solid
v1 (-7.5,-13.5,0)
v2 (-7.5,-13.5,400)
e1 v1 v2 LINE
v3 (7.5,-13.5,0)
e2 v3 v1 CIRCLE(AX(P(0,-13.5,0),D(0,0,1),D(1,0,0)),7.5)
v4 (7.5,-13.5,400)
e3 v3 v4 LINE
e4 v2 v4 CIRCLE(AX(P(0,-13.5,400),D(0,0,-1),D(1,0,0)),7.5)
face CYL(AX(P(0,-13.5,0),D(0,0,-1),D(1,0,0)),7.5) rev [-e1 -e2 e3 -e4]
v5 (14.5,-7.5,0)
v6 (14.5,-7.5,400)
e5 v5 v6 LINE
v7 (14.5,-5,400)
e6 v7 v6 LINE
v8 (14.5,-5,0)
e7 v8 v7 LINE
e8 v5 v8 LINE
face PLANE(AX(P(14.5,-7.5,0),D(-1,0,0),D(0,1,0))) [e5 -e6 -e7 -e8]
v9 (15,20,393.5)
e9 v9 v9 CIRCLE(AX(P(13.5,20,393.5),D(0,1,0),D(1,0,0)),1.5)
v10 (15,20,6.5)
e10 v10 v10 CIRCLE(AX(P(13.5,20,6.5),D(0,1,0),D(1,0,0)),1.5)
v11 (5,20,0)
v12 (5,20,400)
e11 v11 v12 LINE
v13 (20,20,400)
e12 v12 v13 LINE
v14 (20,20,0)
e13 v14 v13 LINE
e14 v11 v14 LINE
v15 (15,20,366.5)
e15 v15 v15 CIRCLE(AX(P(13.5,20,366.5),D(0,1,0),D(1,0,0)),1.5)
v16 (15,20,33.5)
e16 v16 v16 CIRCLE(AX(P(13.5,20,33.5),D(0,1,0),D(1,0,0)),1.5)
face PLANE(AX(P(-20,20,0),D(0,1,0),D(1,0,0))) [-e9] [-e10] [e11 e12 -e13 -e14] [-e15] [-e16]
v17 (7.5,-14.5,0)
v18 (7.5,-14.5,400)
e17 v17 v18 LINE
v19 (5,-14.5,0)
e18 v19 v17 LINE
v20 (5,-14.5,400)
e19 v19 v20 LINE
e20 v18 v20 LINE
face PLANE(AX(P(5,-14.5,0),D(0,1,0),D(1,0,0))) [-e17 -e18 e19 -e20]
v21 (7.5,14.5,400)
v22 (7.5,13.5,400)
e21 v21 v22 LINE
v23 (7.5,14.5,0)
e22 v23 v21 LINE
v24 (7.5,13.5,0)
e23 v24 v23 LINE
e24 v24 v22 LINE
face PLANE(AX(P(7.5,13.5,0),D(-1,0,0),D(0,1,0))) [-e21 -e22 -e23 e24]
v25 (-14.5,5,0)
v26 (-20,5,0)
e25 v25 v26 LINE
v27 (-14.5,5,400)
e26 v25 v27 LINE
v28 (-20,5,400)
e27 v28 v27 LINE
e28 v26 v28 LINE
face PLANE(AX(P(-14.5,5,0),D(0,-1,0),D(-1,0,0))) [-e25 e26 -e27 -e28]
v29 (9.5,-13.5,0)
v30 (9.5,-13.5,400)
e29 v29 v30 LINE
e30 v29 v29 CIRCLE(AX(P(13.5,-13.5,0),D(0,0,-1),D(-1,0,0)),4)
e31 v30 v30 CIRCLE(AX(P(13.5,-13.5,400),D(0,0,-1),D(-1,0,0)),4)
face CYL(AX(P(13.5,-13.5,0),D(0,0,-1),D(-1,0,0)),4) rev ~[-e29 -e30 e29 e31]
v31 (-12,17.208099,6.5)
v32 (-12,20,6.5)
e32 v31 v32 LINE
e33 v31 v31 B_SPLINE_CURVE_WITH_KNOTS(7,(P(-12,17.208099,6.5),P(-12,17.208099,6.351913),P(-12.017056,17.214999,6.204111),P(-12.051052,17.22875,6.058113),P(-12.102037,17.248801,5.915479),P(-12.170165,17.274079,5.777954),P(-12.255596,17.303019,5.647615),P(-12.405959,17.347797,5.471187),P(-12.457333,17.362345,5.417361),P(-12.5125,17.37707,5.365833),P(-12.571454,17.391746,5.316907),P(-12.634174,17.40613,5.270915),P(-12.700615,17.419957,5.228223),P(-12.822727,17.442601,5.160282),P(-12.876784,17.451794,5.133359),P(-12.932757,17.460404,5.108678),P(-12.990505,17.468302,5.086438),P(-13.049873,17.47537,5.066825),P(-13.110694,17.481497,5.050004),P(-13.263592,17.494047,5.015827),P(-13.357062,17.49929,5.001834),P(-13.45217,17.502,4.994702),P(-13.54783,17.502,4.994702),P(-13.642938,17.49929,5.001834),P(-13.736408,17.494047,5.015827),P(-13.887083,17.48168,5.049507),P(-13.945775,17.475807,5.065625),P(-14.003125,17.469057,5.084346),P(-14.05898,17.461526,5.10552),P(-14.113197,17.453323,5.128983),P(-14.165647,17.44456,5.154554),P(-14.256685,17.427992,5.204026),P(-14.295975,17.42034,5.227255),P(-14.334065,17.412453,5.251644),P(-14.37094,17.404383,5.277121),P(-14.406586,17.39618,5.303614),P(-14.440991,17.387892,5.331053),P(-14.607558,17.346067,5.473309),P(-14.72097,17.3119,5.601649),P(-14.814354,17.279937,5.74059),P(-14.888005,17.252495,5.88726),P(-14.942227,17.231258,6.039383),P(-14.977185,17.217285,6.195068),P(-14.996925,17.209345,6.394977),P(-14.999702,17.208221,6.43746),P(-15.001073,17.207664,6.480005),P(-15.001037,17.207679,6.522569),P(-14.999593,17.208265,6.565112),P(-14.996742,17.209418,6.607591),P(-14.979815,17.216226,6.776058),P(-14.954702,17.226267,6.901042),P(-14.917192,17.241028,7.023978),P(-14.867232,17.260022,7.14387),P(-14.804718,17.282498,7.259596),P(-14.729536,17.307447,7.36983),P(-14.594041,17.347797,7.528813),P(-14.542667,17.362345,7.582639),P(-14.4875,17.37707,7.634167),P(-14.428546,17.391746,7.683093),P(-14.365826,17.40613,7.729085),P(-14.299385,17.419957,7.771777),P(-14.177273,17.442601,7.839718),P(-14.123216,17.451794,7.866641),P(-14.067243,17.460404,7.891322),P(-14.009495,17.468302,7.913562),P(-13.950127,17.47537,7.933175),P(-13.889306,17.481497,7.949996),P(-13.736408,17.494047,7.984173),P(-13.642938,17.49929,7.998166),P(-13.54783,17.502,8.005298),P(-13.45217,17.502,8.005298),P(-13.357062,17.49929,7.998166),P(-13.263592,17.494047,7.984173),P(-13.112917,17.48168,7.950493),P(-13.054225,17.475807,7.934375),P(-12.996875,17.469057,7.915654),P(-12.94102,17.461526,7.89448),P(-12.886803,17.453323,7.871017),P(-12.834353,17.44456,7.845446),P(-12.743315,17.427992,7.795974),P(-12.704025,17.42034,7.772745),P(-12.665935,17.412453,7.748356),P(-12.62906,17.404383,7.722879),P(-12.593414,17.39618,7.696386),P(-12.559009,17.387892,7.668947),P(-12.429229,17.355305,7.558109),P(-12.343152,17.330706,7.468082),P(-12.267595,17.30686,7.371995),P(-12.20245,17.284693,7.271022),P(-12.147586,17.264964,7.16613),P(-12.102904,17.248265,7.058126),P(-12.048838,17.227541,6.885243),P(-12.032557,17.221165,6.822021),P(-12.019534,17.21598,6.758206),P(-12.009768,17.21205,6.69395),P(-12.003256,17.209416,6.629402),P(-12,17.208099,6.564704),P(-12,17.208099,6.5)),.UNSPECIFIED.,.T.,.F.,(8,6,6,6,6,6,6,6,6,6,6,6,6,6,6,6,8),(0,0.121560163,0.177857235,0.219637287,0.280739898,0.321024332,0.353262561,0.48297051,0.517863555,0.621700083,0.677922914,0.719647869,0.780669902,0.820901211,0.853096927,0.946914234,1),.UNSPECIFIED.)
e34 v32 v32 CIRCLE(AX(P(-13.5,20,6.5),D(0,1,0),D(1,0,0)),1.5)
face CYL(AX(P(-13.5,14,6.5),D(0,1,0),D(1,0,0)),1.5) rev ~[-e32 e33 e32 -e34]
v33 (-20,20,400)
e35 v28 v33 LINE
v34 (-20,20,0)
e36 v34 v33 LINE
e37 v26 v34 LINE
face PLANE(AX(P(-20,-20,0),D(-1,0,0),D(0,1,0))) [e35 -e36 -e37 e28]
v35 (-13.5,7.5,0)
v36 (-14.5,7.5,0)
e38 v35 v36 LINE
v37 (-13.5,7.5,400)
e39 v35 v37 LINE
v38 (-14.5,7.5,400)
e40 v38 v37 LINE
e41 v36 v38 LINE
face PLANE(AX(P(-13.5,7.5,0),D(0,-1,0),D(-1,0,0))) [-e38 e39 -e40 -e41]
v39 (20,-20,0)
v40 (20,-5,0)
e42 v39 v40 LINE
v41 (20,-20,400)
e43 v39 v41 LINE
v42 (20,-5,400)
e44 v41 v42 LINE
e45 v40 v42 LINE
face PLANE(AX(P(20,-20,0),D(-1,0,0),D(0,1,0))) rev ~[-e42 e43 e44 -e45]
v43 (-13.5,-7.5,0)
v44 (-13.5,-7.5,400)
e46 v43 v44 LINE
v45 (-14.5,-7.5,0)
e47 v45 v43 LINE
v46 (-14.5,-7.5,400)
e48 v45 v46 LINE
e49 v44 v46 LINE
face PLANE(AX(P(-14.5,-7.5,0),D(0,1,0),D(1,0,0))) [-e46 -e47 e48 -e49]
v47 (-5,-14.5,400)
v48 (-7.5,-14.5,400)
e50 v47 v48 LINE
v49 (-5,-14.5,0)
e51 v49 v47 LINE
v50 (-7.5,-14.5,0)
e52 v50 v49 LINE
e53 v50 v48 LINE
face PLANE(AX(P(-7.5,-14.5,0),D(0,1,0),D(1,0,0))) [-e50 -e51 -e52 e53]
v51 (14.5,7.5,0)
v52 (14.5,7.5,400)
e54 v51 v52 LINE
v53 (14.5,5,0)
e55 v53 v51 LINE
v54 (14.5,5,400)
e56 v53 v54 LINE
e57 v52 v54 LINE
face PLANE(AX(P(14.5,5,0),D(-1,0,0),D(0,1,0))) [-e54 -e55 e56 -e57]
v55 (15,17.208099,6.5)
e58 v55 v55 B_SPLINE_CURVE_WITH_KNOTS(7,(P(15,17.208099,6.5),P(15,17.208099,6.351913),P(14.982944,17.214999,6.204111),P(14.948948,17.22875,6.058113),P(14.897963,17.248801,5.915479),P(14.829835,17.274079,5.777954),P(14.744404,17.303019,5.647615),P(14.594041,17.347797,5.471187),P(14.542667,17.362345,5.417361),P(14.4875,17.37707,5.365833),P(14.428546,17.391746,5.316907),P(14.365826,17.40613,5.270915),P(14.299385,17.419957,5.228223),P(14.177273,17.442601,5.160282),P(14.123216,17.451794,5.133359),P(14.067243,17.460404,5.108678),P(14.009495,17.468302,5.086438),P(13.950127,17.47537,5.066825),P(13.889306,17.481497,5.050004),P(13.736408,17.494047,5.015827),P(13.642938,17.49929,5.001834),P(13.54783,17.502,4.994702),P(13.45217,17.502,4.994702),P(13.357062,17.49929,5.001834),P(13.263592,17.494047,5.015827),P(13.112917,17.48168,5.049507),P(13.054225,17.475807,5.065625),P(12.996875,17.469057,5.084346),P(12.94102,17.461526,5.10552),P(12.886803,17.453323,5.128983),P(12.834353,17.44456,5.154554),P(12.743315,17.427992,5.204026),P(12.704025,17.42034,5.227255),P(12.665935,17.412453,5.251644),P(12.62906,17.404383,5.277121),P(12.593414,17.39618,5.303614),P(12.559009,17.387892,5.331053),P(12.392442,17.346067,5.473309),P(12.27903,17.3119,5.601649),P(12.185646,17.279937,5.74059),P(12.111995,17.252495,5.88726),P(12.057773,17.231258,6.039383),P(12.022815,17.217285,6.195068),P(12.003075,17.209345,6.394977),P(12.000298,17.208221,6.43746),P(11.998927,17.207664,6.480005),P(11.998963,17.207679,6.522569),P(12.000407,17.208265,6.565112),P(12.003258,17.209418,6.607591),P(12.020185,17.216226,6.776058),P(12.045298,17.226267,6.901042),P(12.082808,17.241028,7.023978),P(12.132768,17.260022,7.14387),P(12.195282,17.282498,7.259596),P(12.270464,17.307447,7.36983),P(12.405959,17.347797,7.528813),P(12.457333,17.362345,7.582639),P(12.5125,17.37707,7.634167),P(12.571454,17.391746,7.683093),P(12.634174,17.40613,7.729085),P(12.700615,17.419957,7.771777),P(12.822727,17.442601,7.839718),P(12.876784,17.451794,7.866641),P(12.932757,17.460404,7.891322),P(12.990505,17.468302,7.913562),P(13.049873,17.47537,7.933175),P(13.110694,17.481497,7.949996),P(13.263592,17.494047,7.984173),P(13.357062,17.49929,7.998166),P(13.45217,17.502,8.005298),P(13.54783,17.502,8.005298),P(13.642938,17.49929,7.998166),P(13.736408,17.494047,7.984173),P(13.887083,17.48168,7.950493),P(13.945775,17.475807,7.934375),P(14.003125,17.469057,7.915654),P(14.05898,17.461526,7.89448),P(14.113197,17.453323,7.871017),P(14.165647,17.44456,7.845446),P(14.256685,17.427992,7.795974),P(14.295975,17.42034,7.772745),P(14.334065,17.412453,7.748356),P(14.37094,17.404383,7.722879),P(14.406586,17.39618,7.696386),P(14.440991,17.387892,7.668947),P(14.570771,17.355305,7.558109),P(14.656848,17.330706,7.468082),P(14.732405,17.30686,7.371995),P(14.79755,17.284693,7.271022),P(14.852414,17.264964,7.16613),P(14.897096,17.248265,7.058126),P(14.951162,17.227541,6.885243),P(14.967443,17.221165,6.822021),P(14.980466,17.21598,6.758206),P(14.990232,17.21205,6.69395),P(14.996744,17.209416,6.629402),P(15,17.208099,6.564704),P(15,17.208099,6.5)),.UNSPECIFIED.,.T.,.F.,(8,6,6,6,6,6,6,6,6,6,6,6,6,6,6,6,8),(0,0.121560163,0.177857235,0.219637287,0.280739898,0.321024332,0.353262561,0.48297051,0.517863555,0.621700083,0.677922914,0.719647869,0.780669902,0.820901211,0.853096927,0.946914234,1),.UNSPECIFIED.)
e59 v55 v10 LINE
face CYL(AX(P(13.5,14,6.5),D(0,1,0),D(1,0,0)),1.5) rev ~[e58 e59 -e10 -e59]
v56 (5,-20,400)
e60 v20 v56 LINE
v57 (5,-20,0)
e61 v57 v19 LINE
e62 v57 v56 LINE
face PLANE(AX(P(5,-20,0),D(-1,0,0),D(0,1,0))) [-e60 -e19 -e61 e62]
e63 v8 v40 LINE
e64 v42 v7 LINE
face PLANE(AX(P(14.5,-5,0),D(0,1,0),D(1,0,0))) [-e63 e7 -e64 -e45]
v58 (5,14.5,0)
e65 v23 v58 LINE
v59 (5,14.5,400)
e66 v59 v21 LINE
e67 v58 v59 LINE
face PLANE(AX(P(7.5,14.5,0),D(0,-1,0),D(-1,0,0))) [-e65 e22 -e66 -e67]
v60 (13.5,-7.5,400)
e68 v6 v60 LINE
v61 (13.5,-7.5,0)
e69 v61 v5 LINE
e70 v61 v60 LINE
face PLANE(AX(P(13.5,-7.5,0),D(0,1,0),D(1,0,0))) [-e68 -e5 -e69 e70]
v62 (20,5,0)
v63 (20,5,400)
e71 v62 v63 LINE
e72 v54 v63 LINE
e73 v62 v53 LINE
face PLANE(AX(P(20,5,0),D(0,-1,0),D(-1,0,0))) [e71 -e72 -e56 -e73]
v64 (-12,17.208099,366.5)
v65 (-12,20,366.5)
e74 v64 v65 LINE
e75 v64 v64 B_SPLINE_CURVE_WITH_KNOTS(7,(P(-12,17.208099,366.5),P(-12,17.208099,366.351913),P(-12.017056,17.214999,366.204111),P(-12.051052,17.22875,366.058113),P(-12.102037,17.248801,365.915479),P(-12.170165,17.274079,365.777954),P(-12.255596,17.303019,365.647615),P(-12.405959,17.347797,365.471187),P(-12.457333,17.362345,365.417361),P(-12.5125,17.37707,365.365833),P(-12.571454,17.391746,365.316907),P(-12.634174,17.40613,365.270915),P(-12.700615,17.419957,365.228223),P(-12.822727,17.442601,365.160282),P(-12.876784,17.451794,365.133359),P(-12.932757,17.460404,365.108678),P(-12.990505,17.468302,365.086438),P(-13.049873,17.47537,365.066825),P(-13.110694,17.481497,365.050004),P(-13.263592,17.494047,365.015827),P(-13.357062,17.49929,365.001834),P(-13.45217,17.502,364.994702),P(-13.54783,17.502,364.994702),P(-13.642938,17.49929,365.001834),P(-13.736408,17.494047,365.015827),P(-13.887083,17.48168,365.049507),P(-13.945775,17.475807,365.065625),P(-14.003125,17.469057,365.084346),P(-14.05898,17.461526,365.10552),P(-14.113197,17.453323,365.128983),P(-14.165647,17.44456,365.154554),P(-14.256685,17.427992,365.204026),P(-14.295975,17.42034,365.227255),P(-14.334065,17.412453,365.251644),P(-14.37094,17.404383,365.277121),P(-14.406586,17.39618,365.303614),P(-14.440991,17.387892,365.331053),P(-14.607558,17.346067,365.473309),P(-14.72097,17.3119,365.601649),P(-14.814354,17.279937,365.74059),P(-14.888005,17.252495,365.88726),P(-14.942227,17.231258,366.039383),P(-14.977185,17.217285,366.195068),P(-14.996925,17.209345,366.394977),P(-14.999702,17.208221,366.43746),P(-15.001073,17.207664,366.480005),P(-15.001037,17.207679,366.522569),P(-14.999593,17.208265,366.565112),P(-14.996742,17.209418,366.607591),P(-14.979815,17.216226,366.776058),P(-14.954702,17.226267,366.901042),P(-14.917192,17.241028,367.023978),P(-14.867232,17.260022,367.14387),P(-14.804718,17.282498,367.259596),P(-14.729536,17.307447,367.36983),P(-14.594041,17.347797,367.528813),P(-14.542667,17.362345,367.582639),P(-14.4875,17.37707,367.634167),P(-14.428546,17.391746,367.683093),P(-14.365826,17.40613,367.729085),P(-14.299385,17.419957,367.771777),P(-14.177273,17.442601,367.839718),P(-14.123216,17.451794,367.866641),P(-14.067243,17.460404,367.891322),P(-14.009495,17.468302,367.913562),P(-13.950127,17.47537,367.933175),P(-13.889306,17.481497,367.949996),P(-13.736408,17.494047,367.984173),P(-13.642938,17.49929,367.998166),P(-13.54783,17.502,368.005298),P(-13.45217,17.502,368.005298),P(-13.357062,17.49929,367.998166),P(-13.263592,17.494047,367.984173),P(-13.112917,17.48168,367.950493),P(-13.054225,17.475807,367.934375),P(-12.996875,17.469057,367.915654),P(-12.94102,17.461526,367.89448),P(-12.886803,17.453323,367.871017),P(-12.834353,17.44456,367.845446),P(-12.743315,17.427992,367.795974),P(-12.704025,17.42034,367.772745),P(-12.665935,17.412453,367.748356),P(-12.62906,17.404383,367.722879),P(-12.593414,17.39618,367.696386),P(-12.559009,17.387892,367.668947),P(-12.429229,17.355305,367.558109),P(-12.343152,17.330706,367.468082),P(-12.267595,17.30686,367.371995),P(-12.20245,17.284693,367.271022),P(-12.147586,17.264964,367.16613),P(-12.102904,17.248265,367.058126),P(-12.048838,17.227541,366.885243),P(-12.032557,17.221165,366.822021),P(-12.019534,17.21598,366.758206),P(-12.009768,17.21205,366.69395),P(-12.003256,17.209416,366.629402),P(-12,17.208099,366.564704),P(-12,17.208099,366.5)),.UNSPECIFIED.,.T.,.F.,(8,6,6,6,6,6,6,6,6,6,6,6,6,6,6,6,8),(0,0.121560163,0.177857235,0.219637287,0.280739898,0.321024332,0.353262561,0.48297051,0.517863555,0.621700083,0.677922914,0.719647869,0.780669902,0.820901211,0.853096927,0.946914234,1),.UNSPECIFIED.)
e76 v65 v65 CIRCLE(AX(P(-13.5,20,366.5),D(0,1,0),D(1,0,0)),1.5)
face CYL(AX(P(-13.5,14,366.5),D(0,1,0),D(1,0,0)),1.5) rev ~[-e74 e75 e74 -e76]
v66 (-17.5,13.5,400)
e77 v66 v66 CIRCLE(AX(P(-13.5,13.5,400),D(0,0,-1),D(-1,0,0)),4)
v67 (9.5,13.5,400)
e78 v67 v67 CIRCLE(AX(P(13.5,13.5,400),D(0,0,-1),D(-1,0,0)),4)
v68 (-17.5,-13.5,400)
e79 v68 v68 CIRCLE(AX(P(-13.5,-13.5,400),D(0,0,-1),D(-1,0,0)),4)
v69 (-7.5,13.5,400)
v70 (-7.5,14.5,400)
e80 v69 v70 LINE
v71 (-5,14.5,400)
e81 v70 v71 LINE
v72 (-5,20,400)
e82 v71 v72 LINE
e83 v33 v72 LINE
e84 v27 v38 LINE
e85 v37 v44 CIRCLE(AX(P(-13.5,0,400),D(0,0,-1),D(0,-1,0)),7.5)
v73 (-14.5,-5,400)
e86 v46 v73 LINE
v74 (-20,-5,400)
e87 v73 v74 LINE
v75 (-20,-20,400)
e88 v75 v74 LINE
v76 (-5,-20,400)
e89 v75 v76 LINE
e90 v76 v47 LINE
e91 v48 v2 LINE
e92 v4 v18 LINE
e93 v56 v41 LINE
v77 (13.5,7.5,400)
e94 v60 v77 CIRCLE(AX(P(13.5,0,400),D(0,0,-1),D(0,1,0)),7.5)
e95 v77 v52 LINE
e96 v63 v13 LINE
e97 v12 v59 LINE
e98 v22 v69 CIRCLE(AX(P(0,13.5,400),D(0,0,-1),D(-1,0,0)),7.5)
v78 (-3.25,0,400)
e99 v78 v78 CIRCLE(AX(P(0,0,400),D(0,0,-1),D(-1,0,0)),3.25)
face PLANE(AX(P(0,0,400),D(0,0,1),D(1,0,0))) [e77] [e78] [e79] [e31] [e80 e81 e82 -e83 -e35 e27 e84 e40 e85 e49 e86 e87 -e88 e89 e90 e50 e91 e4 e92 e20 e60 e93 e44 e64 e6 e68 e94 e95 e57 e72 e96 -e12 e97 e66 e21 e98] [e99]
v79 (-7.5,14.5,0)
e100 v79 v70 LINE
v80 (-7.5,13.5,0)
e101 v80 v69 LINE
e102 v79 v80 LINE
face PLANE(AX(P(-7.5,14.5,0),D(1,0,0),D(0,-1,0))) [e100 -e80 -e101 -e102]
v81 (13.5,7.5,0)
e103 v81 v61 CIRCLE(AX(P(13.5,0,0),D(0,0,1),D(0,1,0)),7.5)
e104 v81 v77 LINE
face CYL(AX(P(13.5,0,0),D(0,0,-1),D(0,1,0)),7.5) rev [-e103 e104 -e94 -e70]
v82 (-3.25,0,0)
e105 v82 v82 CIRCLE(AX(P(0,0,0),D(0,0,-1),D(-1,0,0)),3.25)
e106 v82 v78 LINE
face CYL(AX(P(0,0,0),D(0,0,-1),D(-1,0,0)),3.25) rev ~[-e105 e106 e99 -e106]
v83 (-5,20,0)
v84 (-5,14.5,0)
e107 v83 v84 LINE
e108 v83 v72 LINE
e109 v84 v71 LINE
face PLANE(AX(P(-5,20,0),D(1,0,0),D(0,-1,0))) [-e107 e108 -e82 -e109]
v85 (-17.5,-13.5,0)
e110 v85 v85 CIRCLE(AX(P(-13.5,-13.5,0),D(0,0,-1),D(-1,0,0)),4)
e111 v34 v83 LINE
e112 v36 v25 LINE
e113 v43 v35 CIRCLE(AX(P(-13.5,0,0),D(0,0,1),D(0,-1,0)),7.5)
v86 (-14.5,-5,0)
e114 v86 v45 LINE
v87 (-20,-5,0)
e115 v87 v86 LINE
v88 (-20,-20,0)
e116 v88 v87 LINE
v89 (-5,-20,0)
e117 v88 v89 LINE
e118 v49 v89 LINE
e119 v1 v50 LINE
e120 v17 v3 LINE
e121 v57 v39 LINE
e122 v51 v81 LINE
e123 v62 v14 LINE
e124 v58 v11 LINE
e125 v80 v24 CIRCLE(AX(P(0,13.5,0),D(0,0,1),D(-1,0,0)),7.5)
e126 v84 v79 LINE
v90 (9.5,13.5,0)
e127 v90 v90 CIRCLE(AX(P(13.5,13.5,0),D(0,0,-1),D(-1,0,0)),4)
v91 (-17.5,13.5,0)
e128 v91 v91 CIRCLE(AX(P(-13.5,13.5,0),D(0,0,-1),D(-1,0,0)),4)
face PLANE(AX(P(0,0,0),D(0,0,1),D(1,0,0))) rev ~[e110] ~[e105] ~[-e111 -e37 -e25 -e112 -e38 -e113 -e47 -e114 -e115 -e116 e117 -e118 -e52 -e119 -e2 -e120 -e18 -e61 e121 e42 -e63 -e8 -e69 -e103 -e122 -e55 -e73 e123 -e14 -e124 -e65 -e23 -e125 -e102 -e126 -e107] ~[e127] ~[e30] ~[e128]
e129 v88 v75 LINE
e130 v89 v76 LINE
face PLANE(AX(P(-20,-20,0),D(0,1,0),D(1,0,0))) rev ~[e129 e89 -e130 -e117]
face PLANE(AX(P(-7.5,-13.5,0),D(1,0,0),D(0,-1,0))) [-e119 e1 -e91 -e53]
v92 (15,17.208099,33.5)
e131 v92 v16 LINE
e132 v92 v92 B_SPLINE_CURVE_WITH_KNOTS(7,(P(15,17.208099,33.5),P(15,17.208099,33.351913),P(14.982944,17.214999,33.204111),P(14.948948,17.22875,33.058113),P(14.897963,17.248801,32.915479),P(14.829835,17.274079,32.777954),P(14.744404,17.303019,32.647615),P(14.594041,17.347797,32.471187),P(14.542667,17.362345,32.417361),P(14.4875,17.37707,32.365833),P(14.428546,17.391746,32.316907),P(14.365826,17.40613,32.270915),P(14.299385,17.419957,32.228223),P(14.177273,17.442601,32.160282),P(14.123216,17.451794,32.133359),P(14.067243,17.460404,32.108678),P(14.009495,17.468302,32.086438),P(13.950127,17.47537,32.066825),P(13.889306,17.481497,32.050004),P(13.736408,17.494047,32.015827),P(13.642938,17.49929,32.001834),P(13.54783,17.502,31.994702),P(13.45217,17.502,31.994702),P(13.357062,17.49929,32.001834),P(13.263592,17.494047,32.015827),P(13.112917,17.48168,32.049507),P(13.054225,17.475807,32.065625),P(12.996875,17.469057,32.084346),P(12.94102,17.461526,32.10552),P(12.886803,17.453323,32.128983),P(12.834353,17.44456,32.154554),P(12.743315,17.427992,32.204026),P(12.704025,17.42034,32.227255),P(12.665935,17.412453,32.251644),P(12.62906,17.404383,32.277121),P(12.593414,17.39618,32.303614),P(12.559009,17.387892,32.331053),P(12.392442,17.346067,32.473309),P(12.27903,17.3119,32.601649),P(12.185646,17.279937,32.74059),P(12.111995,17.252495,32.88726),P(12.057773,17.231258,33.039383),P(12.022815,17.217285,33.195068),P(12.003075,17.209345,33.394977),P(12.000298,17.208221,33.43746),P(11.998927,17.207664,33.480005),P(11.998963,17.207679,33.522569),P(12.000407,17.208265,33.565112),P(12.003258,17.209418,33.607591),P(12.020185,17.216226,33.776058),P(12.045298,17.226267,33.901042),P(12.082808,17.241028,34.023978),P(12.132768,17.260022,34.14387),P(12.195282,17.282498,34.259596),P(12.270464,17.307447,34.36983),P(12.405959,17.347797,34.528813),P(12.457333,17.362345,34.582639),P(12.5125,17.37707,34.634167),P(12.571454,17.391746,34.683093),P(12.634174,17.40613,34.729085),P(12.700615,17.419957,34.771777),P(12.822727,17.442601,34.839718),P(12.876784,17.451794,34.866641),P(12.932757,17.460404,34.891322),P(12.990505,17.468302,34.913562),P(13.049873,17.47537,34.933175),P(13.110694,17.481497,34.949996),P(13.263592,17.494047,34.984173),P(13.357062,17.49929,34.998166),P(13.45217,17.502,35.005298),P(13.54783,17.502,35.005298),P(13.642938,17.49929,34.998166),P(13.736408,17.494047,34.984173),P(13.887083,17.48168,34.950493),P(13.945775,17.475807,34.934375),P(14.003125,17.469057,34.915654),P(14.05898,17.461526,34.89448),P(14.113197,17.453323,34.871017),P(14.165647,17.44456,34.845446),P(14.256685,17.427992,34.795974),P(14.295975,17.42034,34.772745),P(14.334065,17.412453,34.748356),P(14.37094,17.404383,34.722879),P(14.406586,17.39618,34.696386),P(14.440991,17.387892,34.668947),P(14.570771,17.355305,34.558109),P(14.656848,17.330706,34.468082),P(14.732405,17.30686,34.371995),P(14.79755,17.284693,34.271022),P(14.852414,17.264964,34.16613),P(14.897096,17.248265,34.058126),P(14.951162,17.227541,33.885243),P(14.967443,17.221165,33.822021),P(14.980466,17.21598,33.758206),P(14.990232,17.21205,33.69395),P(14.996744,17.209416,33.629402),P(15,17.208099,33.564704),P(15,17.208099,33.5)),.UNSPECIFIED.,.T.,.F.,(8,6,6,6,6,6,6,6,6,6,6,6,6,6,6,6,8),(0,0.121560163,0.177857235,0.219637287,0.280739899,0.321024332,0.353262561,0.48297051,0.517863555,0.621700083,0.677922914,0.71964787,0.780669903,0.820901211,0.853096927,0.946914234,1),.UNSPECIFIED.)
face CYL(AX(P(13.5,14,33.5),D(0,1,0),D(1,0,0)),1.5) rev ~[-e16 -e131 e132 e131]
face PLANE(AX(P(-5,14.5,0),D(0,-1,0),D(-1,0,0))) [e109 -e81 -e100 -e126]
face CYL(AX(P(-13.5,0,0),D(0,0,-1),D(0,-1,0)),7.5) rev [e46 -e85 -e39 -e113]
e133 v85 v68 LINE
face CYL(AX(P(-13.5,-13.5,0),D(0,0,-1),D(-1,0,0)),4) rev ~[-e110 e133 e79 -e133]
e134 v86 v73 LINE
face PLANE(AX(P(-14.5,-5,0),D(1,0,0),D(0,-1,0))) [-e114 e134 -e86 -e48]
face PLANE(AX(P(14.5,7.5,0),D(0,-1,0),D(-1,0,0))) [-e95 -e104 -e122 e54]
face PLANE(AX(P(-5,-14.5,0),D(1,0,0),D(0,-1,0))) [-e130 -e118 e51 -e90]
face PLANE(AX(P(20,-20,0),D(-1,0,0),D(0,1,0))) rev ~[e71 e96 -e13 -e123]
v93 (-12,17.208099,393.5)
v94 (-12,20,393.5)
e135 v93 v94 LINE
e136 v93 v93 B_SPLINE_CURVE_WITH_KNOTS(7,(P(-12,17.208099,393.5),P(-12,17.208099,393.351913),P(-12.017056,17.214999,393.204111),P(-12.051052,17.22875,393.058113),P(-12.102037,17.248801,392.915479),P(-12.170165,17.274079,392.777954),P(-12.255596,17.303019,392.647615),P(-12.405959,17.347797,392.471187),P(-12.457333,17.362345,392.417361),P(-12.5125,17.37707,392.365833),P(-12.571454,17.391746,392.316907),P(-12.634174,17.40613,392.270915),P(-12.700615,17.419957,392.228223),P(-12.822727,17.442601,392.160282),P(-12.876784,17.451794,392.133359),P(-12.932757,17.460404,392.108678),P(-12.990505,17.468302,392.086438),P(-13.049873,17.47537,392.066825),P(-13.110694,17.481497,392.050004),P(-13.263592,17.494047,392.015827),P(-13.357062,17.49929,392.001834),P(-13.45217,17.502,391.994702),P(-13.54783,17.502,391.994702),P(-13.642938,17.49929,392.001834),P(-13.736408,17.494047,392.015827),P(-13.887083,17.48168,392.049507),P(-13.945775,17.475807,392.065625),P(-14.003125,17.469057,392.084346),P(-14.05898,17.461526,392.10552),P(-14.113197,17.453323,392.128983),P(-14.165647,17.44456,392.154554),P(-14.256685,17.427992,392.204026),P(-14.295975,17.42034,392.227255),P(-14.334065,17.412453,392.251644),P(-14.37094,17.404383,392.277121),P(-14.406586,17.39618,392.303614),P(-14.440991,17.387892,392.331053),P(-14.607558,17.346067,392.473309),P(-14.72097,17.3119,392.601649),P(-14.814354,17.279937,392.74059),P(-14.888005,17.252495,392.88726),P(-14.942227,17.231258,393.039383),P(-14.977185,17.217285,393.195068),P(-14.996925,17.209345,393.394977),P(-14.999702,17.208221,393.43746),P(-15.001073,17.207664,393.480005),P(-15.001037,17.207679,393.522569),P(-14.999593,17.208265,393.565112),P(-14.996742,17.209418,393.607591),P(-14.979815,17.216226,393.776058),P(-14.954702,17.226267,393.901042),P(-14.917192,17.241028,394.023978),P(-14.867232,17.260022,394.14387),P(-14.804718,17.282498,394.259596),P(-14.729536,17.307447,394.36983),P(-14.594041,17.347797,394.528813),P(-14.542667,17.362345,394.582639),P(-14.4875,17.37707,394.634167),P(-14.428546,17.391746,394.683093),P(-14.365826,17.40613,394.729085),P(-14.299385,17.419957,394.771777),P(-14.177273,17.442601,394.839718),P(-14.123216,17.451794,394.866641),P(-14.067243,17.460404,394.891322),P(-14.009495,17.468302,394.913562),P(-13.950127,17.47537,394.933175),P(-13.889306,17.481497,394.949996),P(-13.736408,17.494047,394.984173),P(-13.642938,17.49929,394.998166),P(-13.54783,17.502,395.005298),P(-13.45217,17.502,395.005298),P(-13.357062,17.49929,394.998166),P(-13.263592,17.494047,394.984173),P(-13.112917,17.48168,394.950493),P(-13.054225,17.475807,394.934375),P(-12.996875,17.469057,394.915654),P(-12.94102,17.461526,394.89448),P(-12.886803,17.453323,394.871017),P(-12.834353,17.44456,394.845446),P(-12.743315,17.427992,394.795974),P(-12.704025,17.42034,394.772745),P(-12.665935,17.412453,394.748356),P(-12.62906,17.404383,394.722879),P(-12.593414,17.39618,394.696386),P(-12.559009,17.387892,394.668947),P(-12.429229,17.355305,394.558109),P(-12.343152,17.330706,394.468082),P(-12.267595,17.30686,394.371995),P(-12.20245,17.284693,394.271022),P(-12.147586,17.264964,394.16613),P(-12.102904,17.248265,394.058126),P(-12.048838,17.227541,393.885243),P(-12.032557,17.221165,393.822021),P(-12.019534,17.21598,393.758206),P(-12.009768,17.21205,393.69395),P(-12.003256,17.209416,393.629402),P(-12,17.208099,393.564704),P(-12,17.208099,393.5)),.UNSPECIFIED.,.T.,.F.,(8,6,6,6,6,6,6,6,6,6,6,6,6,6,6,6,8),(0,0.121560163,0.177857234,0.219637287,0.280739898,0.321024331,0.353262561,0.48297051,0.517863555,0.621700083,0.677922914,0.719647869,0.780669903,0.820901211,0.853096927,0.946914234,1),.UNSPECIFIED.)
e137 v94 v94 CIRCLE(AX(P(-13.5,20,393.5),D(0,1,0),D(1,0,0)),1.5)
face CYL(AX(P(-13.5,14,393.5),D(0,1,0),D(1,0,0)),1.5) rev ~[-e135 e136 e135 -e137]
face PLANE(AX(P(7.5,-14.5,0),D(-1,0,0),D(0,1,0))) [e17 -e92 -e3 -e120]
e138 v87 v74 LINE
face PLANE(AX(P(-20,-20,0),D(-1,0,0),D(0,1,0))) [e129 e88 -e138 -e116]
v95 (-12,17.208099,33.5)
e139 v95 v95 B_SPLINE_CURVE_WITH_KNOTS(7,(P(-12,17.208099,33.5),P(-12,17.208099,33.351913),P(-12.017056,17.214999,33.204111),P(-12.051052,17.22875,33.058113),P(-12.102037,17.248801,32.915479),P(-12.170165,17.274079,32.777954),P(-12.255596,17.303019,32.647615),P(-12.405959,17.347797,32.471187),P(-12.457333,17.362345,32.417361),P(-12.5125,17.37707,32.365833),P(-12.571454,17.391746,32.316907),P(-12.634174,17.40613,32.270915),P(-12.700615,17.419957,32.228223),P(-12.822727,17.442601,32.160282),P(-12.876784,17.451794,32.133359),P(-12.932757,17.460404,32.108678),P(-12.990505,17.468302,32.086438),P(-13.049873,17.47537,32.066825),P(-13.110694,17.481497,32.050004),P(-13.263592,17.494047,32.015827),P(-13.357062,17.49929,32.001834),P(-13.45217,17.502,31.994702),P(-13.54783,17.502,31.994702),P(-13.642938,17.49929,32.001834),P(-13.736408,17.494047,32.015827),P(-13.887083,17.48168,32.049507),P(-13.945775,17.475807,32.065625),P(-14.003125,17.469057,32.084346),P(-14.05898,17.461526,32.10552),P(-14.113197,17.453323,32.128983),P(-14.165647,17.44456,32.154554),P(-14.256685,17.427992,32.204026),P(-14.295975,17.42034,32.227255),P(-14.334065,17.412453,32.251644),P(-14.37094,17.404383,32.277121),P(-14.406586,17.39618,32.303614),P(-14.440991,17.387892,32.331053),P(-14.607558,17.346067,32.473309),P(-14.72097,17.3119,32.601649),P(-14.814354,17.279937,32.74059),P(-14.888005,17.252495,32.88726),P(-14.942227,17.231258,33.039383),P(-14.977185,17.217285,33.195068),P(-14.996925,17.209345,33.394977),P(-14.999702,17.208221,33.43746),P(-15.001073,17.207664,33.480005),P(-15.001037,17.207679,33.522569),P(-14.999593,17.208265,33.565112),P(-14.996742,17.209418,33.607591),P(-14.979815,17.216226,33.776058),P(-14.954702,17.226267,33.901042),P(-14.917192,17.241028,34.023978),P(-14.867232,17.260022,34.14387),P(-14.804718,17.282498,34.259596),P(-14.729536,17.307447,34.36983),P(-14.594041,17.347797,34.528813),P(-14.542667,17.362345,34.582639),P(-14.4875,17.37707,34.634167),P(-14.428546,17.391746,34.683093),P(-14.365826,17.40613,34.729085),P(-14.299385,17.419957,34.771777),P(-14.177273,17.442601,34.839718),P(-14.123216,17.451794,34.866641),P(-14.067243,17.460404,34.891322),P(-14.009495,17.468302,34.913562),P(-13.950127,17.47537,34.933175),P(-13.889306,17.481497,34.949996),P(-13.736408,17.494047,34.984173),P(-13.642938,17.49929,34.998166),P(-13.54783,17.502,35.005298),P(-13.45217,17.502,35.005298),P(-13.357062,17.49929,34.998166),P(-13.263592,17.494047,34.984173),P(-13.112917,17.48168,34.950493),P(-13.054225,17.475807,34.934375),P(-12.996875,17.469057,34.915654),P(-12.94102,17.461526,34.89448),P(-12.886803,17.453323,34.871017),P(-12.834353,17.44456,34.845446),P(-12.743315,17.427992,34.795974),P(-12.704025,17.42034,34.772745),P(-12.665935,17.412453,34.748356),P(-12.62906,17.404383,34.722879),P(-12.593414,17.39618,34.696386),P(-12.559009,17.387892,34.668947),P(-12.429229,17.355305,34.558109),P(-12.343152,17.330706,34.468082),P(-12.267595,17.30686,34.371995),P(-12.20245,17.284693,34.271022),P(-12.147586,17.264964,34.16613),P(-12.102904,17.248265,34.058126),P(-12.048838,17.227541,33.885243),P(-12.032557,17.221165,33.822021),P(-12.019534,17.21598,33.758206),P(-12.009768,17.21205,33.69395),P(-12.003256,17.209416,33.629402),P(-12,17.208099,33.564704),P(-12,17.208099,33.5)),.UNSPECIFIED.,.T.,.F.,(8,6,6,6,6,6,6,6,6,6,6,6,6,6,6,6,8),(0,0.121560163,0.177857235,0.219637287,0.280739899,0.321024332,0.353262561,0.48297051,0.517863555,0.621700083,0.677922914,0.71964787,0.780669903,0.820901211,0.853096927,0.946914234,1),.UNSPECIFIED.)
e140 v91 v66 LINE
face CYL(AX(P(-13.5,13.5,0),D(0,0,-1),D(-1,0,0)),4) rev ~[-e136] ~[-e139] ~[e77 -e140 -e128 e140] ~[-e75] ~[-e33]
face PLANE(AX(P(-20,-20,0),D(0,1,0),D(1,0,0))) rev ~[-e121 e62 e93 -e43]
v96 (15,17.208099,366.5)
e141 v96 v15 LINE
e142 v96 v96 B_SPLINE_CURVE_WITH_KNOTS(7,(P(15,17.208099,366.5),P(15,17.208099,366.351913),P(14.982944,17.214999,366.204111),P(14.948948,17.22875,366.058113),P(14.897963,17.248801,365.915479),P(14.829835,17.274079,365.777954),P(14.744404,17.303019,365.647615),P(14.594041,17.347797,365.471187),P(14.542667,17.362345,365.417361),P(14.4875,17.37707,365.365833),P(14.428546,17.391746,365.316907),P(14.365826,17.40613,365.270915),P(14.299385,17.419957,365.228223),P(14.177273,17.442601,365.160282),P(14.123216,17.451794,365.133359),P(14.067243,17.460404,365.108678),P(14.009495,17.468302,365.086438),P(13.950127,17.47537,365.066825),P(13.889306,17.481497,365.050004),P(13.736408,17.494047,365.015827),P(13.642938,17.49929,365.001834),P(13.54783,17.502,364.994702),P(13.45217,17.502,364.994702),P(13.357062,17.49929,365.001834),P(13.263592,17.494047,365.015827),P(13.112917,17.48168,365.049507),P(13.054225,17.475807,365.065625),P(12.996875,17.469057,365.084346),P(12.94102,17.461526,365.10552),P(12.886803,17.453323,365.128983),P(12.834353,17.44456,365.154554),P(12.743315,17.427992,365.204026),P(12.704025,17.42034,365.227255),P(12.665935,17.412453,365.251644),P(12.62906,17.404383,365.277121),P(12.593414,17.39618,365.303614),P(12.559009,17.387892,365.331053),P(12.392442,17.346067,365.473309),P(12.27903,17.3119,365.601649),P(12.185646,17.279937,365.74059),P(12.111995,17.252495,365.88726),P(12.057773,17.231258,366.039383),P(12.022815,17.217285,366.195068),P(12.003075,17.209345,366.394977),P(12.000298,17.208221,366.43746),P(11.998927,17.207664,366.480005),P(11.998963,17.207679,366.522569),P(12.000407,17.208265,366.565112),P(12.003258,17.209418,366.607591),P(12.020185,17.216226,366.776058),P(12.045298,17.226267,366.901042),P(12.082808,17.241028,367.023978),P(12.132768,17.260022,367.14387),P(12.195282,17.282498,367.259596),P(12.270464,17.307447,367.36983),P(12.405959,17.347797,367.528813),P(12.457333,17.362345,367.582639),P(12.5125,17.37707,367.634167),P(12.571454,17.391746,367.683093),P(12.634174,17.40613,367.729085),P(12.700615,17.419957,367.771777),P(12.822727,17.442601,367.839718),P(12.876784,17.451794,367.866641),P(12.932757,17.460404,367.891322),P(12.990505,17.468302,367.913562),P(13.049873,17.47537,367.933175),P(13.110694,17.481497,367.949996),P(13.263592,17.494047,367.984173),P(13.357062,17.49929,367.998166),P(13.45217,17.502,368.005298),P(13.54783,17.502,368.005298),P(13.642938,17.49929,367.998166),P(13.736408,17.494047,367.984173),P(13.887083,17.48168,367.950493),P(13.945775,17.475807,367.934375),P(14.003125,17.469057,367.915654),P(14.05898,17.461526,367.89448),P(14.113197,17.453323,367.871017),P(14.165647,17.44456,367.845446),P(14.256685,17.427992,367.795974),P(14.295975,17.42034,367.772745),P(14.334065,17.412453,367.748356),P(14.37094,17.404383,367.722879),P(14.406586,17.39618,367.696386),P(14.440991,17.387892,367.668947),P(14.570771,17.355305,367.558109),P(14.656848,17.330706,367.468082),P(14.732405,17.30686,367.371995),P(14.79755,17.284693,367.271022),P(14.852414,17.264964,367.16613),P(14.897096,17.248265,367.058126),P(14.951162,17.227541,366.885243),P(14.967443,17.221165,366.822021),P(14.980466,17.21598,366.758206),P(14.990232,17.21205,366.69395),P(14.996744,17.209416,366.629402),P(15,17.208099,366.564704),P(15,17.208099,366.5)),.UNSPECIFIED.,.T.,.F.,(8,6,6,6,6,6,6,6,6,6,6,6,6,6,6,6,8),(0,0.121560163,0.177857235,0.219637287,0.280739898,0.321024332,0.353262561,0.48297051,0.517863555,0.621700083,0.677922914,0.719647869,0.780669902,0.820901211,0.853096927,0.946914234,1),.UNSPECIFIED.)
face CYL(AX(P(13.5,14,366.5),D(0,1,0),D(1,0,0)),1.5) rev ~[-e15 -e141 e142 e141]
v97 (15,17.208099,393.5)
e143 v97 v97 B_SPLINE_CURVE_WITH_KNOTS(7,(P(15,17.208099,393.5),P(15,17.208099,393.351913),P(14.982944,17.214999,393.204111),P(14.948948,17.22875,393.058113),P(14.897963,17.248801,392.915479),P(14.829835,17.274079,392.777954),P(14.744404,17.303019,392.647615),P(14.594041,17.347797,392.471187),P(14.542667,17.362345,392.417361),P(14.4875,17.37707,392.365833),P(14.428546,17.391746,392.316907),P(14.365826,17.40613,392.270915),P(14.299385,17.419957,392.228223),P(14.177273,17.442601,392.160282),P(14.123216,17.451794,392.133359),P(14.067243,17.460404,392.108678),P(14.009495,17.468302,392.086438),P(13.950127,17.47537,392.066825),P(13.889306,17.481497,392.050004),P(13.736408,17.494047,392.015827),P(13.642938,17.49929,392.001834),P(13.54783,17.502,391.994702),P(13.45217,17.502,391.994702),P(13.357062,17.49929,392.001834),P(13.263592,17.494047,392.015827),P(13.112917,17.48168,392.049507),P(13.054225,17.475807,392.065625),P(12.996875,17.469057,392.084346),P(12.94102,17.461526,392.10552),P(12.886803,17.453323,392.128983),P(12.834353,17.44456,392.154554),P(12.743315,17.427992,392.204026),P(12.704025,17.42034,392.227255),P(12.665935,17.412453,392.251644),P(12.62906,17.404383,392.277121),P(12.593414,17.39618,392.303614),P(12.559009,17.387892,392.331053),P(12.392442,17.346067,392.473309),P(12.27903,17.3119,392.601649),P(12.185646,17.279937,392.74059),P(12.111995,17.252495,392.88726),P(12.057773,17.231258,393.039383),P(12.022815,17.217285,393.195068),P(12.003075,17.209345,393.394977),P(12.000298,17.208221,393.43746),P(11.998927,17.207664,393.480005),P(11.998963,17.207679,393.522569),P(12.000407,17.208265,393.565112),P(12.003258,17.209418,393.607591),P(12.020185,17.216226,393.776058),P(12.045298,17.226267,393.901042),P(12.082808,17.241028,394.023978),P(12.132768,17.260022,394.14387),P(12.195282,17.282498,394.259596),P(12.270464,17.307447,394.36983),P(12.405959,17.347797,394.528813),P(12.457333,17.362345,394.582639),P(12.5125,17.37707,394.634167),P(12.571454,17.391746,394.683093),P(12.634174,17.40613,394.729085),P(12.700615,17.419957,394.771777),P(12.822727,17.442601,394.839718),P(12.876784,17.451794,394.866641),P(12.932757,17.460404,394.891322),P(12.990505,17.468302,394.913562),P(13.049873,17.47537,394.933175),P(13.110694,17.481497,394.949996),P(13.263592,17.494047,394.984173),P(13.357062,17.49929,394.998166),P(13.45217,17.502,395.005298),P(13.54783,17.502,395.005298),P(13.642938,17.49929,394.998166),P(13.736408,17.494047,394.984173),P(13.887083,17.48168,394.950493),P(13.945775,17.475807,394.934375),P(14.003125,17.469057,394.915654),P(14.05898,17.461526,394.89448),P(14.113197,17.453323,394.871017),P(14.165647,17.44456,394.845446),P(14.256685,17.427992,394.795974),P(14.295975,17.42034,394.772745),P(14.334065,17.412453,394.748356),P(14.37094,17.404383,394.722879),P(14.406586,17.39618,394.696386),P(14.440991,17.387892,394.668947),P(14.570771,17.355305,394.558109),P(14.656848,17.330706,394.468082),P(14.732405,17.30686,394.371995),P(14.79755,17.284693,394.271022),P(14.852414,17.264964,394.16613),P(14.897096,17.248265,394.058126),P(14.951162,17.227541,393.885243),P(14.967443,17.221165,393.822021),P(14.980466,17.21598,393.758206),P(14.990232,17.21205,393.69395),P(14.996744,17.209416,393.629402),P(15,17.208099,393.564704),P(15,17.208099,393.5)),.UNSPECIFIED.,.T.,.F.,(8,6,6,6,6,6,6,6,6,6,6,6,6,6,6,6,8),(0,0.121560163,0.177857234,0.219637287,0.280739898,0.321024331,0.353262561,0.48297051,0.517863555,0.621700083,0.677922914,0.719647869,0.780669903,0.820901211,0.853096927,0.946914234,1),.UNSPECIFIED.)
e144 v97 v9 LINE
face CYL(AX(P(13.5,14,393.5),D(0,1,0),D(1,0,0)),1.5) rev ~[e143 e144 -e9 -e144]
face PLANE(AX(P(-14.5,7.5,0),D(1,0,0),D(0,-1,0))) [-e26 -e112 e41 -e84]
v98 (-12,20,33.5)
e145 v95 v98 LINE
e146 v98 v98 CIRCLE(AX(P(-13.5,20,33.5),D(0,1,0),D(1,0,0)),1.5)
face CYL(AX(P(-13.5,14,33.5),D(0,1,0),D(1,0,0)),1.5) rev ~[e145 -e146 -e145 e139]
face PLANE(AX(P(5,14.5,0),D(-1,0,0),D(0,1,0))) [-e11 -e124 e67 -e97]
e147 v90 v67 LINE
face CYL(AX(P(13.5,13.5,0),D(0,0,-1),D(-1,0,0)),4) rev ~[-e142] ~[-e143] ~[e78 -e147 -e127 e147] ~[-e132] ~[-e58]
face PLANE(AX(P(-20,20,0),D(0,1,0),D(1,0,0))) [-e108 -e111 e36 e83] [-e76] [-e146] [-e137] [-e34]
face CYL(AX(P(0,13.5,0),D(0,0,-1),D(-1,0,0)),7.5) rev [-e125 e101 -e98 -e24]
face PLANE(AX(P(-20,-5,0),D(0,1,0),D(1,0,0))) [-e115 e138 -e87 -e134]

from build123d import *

# Parameters (mm, degrees)
SKETCH_1_W           = 40
SKETCH_1_H           = 40
EXTRUDE_1_DEPTH      = 400
SKETCH_2_R           = 3.25
SKETCH_2_R_2         = 4
CUT_EXTRUDE_1_DEPTH  = 401
M3X0_5_2_D           = 2.5
M3X0_5_2_DEPTH       = 7.5
M3X0_5_2_CBORE_D     = 3
M3X0_5_2_CBORE_DEPTH = 6
M3X0_5_2_TIP         = 0.751075774


with BuildPart() as part:
    # 草圖1 → 伸長1 (new body)
    with BuildSketch(Plane.XY):
        Rectangle(SKETCH_1_W, SKETCH_1_H)
    extrude(amount=EXTRUDE_1_DEPTH)

    # 草圖2 → 除料-伸長1 (cut, through all)
    with BuildSketch(Plane(origin=(0, 0, 0), x_dir=(-1, 0, 0), z_dir=(0, 0, -1))):
        Circle(SKETCH_2_R)
        with Locations((-13.5, 13.5)):
            Circle(SKETCH_2_R_2)
        with Locations((13.5, 13.5)):
            Circle(SKETCH_2_R_2)
        with Locations((-13.5, -13.5)):
            Circle(SKETCH_2_R_2)
        with Locations((13.5, -13.5)):
            Circle(SKETCH_2_R_2)
        with BuildLine():
            Line((5, 14.5), (7.5, 14.5))
            Line((7.5, 14.5), (7.5, 13.5))
            ThreePointArc((7.5, 13.5), (0, 6), (-7.5, 13.5))
            Line((-7.5, 13.5), (-7.5, 14.5))
            Line((-7.5, 14.5), (-5, 14.5))
            Line((-5, 14.5), (-5, 20))
            Line((-5, 20), (5, 20))
            Line((5, 20), (5, 14.5))
        make_face()
        with BuildLine():
            Line((14.5, -5), (14.5, -7.5))
            Line((14.5, -7.5), (13.5, -7.5))
            ThreePointArc((13.5, -7.5), (6, 0), (13.5, 7.5))
            Line((13.5, 7.5), (14.5, 7.5))
            Line((14.5, 7.5), (14.5, 5))
            Line((14.5, 5), (20, 5))
            Line((20, 5), (20, -5))
            Line((20, -5), (14.5, -5))
        make_face()
        with BuildLine():
            Line((-5, -14.5), (-7.5, -14.5))
            Line((-7.5, -14.5), (-7.5, -13.5))
            ThreePointArc((-7.5, -13.5), (0, -6), (7.5, -13.5))
            Line((7.5, -13.5), (7.5, -14.5))
            Line((7.5, -14.5), (5, -14.5))
            Line((5, -14.5), (5, -20))
            Line((5, -20), (-5, -20))
            Line((-5, -20), (-5, -14.5))
        make_face()
        with BuildLine():
            Line((-14.5, 5), (-14.5, 7.5))
            Line((-14.5, 7.5), (-13.5, 7.5))
            ThreePointArc((-13.5, 7.5), (-6, 0), (-13.5, -7.5))
            Line((-13.5, -7.5), (-14.5, -7.5))
            Line((-14.5, -7.5), (-14.5, -5))
            Line((-14.5, -5), (-20, -5))
            Line((-20, -5), (-20, 5))
            Line((-20, 5), (-14.5, 5))
        make_face()
    extrude(amount=-CUT_EXTRUDE_1_DEPTH, mode=Mode.SUBTRACT)

    # M3x0.5 螺紋孔2
    with Locations(Plane(origin=(0, 20, 0), x_dir=(1, 0, 0), z_dir=(0, 1, 0))):
        with Locations((-13.5, -6.5), (-13.5, -33.5), (-13.5, -393.5), (-13.5, -366.5), (13.5, -366.5), (13.5, -393.5), (13.5, -33.5), (13.5, -6.5)):
            CounterBoreHole(M3X0_5_2_D / 2, M3X0_5_2_CBORE_D / 2, M3X0_5_2_CBORE_DEPTH, depth=M3X0_5_2_DEPTH)
            with Locations((0, 0, -(M3X0_5_2_DEPTH + M3X0_5_2_TIP / 2))):  # 118° drill point
                Cone(0, M3X0_5_2_D / 2, M3X0_5_2_TIP, mode=Mode.SUBTRACT)


solid = part.part
